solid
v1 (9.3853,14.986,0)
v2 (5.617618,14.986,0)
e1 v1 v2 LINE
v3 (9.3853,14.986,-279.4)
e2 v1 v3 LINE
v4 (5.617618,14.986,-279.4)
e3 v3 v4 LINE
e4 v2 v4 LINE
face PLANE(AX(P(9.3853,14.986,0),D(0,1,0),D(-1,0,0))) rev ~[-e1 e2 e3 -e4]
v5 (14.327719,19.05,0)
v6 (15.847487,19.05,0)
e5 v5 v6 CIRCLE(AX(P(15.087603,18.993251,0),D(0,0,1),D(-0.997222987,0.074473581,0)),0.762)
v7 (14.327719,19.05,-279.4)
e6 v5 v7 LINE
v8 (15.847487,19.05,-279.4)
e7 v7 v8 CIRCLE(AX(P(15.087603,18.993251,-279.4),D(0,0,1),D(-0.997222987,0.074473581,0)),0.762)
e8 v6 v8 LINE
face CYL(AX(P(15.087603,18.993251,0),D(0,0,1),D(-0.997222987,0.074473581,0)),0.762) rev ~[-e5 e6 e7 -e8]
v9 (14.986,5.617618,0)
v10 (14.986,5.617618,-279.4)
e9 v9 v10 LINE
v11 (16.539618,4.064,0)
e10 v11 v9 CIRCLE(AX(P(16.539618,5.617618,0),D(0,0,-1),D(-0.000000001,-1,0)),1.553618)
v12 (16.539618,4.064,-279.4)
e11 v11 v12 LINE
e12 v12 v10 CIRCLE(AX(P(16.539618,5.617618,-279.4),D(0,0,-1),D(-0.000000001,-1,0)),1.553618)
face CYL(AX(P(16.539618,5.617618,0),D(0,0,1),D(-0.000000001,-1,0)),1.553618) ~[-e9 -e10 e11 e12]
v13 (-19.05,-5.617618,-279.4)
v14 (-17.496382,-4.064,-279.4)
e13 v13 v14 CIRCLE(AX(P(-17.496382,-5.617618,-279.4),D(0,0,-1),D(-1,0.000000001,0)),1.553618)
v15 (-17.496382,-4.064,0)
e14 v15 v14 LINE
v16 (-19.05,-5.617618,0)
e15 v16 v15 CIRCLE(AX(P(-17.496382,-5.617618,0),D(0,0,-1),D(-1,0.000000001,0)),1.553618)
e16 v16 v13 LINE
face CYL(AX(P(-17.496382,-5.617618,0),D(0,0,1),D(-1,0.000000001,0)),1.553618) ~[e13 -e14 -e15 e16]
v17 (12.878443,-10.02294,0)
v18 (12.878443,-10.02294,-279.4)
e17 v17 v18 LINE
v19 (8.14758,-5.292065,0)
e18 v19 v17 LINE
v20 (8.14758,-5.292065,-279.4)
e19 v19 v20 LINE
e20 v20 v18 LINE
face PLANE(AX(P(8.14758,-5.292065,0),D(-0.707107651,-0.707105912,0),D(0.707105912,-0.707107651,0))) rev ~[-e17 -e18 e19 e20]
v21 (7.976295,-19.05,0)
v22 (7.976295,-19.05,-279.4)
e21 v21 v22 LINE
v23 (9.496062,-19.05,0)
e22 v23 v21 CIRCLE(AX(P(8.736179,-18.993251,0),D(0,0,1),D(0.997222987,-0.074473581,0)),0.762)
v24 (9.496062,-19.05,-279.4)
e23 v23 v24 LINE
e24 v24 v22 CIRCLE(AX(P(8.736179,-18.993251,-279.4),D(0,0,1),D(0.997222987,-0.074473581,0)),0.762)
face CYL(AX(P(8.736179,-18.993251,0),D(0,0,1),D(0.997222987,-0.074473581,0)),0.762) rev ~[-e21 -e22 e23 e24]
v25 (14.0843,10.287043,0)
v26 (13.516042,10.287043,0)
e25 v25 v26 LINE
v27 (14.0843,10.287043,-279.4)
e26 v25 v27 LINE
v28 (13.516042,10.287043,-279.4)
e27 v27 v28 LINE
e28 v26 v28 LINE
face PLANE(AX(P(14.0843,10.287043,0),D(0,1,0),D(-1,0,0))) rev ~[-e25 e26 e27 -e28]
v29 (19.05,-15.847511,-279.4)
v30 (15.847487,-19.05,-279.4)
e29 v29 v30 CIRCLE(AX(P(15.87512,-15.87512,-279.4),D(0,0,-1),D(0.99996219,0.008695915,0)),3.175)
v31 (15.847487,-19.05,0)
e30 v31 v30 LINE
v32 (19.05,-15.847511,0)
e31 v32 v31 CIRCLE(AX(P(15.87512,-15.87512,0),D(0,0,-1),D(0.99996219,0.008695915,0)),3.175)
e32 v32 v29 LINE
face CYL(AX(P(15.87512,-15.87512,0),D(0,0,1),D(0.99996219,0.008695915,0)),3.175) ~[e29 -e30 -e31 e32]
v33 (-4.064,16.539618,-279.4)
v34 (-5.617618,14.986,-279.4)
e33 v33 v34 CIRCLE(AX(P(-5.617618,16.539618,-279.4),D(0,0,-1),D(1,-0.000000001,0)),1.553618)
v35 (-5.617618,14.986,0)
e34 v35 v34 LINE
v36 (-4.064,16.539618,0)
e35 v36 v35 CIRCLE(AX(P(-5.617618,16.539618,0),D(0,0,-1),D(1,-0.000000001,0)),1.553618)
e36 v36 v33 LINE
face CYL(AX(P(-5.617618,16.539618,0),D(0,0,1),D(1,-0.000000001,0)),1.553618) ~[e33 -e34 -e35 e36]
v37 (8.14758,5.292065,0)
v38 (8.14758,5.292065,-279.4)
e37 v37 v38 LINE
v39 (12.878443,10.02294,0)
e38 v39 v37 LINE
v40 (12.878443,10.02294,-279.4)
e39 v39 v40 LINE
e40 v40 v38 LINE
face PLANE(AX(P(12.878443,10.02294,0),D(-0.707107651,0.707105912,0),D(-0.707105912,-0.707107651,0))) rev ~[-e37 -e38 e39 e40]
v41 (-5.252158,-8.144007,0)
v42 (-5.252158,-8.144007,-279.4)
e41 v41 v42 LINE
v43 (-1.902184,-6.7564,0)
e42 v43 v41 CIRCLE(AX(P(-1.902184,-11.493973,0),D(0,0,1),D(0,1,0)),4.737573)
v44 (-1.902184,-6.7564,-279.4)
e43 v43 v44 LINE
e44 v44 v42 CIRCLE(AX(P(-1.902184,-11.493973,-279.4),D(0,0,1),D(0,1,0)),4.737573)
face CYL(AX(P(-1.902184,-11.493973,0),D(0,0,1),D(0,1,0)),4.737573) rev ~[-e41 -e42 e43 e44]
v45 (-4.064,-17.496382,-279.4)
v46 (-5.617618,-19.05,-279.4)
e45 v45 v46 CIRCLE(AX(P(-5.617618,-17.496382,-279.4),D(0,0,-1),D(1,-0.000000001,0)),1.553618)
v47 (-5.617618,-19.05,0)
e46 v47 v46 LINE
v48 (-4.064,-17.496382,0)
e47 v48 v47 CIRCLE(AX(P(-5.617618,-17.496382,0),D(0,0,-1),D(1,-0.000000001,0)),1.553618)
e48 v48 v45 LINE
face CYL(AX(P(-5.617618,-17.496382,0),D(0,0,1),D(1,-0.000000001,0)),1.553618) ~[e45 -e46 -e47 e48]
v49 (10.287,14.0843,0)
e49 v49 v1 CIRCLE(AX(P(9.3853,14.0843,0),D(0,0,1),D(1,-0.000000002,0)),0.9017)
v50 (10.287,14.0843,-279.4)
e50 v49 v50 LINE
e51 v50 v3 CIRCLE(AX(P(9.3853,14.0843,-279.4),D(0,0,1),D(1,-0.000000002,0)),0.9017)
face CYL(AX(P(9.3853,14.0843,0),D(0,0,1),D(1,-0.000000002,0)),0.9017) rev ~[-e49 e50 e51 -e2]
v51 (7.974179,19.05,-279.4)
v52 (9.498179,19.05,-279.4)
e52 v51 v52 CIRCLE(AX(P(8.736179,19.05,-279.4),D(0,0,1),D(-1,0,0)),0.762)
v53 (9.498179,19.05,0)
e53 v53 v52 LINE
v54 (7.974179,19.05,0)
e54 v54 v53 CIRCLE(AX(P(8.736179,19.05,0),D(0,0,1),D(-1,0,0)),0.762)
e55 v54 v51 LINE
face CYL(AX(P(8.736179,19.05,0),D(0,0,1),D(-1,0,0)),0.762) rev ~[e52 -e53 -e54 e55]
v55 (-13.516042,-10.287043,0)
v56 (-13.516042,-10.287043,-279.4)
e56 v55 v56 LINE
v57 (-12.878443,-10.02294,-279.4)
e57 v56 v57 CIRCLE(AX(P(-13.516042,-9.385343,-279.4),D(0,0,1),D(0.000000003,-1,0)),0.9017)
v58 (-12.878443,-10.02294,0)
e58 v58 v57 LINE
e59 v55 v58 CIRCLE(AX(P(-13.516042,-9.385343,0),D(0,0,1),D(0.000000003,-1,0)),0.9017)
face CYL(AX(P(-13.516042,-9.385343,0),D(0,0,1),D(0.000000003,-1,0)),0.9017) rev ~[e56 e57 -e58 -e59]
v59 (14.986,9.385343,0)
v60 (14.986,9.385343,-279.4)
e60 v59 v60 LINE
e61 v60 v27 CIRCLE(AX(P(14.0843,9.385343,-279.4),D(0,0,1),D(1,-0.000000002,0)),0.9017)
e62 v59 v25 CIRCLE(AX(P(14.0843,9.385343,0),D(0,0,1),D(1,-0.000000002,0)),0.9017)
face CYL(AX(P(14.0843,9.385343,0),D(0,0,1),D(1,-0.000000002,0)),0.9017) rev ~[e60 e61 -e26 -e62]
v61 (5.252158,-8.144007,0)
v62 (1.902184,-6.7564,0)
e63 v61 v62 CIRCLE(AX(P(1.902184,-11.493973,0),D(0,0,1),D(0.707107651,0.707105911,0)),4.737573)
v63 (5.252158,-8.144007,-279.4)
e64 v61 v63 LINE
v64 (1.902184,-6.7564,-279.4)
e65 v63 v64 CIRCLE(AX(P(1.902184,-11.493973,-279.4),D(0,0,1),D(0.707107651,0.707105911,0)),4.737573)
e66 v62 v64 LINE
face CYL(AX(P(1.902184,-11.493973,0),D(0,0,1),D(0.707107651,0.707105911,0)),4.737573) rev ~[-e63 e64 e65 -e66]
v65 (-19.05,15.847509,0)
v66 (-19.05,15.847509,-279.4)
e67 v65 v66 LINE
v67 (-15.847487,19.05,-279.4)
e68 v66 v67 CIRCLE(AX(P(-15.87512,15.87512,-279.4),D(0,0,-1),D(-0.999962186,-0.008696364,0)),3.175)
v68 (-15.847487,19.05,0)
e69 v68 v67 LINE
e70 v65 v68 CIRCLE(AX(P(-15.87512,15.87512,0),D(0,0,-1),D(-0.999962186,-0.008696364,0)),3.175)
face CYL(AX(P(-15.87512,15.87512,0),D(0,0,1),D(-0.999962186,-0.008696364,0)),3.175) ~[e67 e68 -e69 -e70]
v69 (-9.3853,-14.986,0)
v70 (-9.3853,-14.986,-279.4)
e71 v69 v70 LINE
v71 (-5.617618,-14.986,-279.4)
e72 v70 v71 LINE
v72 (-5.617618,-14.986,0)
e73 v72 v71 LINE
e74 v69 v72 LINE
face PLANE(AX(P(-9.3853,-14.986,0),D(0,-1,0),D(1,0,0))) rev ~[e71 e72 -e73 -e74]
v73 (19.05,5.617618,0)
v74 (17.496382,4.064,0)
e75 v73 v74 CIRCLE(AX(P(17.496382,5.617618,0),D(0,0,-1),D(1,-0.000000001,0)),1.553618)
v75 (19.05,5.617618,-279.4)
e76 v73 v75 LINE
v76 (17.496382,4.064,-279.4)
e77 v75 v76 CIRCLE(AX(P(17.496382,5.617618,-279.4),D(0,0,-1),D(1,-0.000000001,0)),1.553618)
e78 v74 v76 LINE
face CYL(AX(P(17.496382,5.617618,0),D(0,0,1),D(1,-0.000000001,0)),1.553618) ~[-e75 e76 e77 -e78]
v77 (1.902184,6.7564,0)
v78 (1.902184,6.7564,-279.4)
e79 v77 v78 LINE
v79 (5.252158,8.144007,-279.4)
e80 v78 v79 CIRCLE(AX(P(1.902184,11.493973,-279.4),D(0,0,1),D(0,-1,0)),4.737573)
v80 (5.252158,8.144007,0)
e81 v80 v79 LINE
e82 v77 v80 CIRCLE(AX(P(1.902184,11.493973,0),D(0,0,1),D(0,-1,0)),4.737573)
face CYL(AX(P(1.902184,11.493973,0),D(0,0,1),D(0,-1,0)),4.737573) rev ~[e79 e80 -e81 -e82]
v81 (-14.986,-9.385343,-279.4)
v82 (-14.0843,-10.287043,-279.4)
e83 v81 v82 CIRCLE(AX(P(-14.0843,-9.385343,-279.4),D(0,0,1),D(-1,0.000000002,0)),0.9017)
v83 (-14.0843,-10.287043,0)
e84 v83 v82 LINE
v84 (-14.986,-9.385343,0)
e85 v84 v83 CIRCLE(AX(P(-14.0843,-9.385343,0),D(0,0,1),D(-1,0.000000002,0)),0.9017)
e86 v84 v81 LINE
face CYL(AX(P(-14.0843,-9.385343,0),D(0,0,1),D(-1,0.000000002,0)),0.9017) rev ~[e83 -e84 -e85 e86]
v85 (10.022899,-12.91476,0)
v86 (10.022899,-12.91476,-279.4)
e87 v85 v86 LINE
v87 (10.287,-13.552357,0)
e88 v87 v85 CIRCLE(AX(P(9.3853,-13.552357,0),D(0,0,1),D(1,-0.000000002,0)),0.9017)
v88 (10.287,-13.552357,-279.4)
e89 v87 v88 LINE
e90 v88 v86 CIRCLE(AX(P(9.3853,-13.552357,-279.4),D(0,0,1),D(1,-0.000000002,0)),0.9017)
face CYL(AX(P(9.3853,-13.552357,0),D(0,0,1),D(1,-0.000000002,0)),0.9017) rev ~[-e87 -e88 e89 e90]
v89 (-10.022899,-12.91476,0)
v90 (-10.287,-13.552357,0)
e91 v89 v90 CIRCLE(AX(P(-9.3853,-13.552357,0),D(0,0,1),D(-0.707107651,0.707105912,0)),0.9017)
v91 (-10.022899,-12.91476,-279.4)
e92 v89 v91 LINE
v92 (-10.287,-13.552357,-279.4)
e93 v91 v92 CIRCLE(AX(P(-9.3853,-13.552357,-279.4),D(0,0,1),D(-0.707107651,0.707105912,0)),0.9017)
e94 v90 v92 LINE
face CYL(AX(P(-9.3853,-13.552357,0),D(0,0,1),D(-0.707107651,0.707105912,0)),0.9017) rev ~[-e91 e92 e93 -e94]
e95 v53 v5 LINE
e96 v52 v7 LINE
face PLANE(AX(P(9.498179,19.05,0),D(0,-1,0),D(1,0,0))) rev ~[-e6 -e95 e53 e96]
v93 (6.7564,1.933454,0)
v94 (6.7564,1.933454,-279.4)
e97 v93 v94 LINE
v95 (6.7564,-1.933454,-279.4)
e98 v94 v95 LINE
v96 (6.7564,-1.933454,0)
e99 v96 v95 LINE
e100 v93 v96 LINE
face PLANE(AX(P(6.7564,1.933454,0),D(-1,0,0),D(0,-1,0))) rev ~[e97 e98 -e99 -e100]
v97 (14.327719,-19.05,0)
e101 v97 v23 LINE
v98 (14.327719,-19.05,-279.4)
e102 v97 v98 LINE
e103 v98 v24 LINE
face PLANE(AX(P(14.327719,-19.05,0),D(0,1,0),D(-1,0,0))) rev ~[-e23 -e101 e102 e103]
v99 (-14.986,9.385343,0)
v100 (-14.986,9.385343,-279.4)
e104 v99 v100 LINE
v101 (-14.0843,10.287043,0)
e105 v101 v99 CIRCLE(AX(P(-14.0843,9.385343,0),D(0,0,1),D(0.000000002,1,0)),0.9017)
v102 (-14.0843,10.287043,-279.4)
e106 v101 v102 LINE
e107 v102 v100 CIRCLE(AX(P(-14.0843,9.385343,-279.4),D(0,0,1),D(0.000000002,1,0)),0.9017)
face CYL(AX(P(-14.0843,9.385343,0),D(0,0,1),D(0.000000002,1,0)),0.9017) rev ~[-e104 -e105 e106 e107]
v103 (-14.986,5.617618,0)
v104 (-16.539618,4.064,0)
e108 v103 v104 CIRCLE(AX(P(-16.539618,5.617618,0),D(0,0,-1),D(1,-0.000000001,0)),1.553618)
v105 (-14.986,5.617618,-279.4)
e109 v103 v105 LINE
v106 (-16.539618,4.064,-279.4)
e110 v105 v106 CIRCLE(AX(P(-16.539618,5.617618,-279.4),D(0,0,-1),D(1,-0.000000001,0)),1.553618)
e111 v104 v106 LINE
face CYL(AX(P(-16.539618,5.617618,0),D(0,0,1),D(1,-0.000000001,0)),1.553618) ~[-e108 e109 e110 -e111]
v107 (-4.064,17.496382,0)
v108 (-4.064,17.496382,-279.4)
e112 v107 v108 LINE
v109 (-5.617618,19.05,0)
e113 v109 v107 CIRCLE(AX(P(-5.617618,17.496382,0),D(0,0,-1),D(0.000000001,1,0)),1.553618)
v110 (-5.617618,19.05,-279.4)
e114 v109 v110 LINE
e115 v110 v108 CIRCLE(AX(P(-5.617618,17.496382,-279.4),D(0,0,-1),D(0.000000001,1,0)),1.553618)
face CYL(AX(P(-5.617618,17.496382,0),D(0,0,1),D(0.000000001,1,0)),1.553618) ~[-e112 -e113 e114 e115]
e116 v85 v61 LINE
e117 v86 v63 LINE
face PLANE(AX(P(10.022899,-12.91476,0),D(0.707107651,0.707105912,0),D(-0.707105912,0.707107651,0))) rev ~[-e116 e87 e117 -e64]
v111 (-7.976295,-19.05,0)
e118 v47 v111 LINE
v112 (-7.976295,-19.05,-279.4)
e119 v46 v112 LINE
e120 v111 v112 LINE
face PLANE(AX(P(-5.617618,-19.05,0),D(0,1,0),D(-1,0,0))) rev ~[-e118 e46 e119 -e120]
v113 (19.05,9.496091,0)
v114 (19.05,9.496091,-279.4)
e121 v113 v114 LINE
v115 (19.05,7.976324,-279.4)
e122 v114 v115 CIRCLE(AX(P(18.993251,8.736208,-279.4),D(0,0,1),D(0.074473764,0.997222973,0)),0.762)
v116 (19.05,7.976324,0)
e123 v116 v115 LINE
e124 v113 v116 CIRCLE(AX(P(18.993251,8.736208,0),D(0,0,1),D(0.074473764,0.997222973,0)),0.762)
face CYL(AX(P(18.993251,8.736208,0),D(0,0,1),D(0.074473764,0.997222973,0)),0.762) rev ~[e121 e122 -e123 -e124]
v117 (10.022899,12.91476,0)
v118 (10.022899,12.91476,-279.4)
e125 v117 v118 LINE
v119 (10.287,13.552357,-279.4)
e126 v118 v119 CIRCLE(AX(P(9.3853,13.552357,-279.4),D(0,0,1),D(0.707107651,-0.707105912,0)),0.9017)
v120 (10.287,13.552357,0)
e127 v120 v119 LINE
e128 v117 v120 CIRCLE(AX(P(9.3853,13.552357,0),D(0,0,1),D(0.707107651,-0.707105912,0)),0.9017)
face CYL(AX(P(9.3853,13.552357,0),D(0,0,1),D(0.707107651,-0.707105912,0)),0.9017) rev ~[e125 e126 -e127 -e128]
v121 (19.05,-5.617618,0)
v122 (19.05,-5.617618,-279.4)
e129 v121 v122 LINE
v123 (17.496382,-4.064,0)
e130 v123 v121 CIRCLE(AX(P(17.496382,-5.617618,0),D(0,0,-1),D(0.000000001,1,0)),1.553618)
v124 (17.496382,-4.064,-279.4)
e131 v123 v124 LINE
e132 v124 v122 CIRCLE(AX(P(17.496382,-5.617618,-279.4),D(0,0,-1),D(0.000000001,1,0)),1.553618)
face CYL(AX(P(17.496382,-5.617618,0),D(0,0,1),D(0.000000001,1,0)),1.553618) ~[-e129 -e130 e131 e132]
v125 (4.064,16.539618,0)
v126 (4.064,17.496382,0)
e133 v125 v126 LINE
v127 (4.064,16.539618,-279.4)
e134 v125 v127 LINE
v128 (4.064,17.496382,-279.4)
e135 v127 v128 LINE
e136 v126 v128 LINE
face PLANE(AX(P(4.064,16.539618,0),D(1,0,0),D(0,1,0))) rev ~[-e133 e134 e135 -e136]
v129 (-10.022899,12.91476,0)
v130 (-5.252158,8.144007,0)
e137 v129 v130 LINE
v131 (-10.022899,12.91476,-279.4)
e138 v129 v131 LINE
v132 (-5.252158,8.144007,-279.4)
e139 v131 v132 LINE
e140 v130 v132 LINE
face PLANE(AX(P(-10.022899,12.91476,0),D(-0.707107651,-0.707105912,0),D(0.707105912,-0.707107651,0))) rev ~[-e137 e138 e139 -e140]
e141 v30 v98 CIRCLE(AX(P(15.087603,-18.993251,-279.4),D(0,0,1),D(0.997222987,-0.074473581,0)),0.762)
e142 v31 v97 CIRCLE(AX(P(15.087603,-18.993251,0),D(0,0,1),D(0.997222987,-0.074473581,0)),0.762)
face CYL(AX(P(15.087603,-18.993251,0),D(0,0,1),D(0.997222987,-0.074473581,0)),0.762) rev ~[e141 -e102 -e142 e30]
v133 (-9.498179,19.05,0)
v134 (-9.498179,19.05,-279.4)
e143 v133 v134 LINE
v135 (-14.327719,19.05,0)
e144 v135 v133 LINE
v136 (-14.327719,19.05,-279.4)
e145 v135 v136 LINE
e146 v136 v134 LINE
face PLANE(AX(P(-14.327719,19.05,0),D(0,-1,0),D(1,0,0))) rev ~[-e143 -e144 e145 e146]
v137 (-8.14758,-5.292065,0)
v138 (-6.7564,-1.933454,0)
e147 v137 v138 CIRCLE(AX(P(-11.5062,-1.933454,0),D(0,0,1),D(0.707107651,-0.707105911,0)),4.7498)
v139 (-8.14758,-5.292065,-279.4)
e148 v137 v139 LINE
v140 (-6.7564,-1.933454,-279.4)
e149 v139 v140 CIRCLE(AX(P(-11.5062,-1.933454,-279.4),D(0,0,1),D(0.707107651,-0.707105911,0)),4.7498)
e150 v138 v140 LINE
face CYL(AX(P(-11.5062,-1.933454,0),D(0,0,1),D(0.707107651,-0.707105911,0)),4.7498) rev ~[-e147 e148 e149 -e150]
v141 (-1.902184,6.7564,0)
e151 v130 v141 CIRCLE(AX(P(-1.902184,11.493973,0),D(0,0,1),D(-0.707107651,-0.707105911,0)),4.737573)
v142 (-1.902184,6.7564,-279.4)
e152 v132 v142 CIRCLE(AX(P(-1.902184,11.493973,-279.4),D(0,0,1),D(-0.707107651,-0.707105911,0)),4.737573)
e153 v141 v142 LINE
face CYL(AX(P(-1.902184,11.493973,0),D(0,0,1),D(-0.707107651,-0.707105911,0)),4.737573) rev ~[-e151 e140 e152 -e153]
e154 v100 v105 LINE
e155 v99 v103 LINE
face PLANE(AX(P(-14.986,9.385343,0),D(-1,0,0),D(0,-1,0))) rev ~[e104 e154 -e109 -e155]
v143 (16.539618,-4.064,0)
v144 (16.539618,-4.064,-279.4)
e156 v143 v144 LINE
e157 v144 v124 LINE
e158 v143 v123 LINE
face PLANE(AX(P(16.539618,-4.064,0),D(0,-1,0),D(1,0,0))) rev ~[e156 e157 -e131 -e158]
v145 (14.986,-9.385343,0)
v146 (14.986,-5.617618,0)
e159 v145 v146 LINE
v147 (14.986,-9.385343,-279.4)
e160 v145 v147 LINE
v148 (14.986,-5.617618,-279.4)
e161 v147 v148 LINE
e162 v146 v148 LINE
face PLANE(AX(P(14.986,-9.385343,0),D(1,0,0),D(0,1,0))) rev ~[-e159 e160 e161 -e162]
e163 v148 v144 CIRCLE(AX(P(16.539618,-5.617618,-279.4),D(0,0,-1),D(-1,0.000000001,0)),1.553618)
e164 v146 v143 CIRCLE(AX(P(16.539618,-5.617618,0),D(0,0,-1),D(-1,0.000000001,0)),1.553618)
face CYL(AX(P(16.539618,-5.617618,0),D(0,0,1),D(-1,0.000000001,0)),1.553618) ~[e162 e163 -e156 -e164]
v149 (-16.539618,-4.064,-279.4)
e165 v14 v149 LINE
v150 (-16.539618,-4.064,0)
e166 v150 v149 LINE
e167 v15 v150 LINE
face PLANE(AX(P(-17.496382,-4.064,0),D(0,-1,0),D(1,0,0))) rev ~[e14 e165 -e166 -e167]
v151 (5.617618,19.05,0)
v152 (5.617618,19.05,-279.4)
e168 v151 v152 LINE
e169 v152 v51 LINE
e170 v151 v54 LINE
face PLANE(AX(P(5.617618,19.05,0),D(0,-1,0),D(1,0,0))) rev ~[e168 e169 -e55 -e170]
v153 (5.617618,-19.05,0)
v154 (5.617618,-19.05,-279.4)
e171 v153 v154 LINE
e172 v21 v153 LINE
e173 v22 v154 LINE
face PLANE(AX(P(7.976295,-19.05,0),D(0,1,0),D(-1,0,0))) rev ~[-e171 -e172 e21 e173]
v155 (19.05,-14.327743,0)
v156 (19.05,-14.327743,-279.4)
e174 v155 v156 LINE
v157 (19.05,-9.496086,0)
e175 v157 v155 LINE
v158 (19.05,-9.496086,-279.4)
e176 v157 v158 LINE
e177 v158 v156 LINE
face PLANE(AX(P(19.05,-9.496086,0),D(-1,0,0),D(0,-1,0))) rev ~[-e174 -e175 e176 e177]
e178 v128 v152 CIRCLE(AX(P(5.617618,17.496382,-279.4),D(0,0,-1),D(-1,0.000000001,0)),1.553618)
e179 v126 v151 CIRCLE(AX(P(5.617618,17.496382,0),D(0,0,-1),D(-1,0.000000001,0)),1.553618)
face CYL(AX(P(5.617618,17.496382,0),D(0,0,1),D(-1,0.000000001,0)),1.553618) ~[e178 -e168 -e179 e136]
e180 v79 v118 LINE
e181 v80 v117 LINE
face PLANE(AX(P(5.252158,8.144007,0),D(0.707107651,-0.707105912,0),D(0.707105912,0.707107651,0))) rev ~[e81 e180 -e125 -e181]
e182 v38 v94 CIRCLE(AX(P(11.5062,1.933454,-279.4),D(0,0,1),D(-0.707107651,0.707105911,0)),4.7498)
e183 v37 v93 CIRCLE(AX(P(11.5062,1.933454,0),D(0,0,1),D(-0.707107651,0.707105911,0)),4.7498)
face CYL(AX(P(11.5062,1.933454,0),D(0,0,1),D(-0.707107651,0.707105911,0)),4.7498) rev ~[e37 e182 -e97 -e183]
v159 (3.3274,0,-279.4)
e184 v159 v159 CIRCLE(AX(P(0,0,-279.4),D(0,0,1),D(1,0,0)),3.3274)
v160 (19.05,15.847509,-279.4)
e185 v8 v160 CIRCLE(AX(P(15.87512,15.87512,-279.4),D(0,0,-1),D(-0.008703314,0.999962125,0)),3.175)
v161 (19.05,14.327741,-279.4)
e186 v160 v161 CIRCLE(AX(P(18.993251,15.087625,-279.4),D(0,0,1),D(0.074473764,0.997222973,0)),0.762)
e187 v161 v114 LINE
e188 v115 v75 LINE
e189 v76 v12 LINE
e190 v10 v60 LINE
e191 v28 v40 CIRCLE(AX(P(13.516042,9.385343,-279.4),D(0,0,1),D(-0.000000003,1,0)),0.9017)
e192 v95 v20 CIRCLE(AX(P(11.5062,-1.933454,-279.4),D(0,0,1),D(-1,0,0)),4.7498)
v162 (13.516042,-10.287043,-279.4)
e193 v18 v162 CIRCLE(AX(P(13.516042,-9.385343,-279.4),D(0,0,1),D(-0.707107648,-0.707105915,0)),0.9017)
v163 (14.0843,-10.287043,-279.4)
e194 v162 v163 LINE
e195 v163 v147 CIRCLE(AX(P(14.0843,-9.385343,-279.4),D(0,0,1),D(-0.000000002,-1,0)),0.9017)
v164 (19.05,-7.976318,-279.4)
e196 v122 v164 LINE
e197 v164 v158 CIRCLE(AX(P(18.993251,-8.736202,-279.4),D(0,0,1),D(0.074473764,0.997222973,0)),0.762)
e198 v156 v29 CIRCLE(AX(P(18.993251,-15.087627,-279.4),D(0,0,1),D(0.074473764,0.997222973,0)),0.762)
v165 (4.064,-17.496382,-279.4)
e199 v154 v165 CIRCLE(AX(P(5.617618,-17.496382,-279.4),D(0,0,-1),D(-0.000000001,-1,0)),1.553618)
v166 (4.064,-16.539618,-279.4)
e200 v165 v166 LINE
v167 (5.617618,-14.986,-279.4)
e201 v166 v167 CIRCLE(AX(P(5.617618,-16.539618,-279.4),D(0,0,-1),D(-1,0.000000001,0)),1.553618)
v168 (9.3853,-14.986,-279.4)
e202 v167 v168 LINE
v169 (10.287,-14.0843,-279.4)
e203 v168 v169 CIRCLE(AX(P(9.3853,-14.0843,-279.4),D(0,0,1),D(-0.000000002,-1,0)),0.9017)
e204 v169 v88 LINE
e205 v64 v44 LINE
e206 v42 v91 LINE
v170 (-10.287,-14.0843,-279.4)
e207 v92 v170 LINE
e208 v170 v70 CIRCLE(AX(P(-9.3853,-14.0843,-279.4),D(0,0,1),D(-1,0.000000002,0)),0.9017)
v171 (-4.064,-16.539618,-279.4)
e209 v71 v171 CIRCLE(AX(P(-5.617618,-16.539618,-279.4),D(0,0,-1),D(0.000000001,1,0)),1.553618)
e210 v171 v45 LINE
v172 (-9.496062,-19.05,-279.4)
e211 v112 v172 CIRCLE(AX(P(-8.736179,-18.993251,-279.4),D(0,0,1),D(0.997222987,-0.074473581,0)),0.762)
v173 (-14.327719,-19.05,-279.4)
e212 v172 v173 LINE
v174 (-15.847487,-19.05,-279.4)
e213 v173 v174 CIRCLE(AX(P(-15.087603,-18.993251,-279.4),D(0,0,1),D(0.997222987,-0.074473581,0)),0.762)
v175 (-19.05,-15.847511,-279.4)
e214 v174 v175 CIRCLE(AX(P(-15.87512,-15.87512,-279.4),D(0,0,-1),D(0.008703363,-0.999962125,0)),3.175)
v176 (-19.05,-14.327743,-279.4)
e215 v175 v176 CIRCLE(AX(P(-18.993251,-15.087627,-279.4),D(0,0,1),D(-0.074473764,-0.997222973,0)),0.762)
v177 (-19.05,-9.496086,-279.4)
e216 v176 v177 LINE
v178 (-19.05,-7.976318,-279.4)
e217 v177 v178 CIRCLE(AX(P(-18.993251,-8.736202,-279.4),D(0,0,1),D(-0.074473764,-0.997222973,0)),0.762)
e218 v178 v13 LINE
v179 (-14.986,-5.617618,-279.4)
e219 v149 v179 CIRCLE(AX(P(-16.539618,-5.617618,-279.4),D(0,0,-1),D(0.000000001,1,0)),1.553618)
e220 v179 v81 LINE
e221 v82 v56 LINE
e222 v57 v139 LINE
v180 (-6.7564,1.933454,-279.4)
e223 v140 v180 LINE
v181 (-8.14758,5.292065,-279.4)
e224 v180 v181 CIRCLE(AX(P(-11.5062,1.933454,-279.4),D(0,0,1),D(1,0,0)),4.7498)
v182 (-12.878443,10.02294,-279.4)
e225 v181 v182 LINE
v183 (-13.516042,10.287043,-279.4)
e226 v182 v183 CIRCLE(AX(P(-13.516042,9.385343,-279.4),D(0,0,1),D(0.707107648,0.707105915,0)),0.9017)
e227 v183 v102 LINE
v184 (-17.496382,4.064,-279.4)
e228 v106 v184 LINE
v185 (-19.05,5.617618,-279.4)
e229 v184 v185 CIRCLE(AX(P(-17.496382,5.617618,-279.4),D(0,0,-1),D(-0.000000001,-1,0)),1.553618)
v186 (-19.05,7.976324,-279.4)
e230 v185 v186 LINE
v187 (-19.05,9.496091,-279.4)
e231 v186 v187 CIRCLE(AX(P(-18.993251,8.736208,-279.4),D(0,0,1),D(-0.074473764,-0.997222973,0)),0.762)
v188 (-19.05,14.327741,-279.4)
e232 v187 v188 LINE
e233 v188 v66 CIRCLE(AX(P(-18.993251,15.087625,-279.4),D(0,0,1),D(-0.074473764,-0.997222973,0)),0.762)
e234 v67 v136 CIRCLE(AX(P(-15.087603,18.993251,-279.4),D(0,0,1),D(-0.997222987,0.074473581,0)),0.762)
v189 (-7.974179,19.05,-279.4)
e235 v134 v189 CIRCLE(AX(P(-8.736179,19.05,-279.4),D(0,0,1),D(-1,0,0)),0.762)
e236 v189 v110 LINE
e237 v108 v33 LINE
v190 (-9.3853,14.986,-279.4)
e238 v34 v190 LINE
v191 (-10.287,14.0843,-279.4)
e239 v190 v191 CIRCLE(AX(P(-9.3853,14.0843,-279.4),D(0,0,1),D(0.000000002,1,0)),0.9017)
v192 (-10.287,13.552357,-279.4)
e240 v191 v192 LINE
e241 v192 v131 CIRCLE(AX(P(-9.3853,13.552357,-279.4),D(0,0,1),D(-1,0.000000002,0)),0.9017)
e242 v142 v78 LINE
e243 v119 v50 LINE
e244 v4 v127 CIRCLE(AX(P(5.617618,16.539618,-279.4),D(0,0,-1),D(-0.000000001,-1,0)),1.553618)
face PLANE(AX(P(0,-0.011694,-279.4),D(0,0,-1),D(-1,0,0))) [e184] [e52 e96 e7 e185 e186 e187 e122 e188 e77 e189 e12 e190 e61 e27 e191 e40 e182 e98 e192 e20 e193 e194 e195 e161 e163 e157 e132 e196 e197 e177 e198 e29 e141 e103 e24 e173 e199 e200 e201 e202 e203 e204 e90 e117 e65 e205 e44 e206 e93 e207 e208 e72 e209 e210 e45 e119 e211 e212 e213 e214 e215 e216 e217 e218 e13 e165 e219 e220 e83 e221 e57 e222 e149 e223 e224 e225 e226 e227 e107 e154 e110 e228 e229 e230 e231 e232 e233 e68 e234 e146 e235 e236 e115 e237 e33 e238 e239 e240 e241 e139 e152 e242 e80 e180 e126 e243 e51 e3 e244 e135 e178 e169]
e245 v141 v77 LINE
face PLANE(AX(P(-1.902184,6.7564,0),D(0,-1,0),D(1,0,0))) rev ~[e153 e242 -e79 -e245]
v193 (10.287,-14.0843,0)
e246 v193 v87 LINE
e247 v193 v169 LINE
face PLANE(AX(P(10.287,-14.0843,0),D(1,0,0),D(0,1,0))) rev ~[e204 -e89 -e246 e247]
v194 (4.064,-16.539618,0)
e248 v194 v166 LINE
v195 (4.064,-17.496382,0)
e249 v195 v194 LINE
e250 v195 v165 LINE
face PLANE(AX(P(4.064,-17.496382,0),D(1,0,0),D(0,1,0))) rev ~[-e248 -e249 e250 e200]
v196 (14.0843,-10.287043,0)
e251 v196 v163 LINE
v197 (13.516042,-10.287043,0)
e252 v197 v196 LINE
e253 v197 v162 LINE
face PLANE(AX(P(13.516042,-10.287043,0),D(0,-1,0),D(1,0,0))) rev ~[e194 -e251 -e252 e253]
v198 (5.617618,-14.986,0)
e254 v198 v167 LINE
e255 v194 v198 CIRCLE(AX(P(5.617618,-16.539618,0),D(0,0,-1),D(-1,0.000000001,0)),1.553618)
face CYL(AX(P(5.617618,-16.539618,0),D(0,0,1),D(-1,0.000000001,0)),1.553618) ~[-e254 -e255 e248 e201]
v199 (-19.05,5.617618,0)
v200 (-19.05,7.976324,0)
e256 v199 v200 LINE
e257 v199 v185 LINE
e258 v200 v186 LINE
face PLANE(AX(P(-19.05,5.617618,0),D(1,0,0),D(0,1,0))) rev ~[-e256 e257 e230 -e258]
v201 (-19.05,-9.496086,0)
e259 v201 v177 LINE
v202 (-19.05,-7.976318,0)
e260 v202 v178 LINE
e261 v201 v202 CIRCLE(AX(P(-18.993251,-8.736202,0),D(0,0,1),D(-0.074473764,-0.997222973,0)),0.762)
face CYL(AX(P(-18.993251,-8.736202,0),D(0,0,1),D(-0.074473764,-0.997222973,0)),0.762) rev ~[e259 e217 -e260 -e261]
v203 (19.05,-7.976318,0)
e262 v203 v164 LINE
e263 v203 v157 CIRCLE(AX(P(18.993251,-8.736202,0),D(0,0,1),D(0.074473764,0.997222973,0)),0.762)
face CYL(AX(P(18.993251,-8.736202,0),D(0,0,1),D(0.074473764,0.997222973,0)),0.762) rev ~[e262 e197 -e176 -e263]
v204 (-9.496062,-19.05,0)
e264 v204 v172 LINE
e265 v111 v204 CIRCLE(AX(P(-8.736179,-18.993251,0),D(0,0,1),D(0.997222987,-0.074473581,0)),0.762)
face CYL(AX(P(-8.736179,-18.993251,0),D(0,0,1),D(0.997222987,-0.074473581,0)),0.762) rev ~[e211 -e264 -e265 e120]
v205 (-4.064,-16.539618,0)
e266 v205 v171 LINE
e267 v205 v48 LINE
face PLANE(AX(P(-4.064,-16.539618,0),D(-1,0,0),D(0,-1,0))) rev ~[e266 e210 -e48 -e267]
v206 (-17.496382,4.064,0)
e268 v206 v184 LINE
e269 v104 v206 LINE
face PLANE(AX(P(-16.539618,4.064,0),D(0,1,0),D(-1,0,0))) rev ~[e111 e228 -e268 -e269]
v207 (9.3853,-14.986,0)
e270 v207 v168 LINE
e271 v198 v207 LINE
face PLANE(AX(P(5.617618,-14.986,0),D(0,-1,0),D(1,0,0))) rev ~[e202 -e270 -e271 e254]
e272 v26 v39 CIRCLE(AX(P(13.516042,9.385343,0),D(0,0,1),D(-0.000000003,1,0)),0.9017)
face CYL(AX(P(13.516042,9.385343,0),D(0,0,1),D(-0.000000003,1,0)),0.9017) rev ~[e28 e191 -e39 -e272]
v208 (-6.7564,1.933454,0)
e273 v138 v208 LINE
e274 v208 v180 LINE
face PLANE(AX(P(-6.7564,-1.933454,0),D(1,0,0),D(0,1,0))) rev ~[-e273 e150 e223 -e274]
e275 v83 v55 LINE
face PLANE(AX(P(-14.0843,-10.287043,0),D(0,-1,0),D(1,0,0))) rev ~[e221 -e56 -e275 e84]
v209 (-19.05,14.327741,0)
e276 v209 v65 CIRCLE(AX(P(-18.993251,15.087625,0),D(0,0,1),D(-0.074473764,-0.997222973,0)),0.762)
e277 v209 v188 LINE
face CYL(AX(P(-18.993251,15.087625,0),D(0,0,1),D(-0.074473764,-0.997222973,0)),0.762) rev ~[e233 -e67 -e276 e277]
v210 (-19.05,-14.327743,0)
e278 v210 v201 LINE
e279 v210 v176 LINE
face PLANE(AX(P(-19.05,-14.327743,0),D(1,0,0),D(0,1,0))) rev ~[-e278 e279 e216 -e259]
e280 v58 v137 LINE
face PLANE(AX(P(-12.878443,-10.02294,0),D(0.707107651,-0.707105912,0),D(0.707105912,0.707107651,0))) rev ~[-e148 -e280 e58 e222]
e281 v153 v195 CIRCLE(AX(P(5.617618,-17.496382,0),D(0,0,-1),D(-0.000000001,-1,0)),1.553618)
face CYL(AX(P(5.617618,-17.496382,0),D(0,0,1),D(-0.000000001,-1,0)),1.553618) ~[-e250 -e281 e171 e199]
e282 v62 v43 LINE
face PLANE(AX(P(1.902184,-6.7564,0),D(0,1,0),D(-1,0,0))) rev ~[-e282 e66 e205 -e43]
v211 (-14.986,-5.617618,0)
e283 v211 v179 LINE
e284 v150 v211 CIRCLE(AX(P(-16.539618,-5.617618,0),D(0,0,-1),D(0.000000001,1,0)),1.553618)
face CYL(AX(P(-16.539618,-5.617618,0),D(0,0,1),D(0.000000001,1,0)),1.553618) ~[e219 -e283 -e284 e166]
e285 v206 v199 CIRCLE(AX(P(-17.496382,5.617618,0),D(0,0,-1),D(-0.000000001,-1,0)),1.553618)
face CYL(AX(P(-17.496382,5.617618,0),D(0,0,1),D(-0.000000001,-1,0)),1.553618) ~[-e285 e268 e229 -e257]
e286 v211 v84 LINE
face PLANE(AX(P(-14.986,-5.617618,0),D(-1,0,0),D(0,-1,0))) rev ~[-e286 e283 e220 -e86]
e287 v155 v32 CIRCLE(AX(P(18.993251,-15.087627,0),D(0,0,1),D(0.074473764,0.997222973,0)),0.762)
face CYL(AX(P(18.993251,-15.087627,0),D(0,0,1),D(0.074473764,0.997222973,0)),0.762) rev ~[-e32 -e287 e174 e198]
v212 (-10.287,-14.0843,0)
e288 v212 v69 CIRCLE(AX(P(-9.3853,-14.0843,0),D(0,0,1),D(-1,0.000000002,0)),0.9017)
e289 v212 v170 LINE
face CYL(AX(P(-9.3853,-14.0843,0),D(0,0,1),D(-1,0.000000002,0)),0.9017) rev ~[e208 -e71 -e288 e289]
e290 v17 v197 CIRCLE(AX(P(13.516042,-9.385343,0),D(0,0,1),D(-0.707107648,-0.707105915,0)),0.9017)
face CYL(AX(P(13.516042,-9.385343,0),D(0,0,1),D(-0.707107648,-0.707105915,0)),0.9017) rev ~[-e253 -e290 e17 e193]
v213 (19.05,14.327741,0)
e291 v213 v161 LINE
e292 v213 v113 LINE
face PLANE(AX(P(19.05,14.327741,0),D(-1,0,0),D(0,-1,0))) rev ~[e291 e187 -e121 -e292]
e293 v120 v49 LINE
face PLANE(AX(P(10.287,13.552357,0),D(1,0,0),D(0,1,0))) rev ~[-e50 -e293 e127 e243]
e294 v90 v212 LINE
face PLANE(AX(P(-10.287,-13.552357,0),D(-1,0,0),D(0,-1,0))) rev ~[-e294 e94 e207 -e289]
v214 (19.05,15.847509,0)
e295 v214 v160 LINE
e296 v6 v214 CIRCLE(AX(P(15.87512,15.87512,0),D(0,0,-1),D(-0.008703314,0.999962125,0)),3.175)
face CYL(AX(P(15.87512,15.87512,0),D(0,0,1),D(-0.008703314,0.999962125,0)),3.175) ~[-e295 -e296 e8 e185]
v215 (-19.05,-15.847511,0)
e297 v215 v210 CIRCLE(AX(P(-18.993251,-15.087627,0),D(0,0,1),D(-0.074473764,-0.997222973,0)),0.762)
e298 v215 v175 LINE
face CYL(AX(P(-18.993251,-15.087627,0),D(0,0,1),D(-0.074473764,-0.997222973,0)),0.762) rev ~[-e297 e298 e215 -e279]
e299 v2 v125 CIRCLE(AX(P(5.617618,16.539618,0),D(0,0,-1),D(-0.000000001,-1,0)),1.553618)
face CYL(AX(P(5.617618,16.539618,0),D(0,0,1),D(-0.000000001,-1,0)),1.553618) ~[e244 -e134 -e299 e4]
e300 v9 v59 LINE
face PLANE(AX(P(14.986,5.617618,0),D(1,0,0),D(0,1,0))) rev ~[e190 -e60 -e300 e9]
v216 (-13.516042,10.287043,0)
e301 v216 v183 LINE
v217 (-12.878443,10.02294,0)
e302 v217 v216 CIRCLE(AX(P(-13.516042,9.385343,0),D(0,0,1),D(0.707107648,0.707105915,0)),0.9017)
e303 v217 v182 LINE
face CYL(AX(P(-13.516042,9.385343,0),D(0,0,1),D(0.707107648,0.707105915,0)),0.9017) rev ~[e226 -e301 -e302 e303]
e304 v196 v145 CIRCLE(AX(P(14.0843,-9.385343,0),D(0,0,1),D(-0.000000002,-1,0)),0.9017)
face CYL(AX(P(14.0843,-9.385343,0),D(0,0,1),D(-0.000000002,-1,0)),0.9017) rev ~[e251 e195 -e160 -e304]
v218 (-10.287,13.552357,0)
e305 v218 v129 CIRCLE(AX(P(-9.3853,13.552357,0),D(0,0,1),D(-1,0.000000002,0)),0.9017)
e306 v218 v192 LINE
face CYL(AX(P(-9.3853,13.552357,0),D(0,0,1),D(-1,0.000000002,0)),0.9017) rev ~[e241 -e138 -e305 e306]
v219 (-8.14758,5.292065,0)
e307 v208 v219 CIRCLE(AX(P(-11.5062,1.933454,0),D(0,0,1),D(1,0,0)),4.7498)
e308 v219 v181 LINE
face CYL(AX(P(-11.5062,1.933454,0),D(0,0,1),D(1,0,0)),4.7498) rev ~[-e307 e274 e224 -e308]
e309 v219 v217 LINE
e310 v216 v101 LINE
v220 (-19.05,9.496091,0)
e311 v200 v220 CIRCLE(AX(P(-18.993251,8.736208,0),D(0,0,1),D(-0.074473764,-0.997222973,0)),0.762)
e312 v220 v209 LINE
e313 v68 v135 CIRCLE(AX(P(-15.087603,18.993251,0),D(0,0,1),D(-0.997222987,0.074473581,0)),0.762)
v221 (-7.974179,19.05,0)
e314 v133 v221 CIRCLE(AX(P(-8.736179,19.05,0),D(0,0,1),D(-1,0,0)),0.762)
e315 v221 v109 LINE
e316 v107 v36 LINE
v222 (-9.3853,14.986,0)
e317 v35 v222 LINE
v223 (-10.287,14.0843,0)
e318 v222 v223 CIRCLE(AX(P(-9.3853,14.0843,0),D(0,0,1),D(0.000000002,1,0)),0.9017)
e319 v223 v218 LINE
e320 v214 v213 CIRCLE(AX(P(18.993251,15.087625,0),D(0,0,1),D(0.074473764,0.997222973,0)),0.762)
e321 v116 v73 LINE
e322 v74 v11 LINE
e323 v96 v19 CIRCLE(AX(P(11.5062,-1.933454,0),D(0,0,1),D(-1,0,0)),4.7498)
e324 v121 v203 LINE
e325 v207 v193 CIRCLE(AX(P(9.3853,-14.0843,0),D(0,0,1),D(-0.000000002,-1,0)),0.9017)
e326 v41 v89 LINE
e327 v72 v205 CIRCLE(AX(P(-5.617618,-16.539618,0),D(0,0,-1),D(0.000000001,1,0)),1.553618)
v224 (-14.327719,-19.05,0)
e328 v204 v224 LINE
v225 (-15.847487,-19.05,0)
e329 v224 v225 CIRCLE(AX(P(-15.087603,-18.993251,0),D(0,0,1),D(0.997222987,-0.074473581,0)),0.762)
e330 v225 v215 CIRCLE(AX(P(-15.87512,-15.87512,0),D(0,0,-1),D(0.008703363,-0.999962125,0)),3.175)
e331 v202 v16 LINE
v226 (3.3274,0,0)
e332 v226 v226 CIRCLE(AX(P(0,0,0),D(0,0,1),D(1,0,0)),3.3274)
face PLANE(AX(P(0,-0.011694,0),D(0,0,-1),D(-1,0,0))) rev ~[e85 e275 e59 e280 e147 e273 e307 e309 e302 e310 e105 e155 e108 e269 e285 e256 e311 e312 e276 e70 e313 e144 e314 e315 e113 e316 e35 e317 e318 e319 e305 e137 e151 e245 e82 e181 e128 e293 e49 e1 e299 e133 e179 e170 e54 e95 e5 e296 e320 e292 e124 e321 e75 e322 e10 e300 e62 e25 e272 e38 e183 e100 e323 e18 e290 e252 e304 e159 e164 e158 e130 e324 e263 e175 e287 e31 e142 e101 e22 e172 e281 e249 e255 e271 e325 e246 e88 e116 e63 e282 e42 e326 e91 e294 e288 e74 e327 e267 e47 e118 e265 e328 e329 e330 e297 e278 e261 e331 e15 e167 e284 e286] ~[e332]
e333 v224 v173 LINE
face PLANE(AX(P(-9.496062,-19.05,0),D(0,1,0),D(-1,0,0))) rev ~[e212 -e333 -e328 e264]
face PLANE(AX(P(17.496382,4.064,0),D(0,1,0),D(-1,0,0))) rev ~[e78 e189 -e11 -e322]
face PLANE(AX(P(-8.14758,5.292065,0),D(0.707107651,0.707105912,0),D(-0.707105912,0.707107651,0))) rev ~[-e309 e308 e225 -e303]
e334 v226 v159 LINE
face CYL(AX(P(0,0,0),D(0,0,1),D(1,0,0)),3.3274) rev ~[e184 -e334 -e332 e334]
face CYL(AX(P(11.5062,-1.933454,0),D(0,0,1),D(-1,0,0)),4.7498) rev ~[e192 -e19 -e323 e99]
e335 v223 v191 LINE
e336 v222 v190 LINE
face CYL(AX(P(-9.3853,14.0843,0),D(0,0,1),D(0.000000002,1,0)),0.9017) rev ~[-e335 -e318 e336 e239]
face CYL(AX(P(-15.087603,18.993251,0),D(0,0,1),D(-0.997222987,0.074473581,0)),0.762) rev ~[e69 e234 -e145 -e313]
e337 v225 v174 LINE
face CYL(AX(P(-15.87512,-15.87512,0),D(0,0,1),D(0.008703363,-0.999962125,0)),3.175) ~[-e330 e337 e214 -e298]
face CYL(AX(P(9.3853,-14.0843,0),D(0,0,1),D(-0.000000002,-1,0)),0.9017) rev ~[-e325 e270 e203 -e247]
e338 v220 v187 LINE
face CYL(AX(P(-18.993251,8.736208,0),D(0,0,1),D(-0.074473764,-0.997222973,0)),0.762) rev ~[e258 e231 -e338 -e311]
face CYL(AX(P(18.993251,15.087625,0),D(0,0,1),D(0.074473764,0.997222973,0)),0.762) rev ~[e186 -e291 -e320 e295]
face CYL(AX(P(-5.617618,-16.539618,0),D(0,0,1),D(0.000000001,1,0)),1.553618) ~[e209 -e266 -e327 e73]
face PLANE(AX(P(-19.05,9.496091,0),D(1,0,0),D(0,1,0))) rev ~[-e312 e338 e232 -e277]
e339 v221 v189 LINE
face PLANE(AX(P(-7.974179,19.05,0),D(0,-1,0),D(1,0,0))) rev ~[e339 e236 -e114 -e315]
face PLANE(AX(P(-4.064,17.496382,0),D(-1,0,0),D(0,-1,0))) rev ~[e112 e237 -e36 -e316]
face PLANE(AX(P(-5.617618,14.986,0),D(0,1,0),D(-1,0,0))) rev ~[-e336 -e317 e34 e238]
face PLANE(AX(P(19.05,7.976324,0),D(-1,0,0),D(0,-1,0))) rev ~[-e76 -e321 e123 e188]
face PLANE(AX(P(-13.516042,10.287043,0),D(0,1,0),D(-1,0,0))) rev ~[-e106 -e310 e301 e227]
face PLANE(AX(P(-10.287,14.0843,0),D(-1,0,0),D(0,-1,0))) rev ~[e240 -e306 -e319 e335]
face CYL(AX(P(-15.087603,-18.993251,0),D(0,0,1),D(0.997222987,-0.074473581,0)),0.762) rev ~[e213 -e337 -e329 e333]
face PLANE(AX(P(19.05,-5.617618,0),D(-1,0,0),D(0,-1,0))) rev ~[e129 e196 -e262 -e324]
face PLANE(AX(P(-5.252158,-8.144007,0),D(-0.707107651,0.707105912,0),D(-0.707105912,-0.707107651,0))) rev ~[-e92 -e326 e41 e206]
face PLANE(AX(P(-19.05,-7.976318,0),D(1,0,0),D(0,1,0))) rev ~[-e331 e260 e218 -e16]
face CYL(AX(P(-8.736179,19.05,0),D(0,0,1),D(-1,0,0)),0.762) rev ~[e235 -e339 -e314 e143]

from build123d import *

# Parameters (mm, degrees)
SKETCH1_R      = 3.3274
EXTRUDE1_DEPTH = 279.4


with BuildPart() as part:
    # Sketch1 → Extrude1 (new body)
    with BuildSketch(Plane.XY):
        with BuildLine():
            Line((-10.022898969, 12.91475973), (-5.252158105, 8.144007132))
            ThreePointArc((-5.252158105, 8.144007132), (-3.715177372, 7.117027388), (-1.902183975, 6.7564))
            Line((-1.902183975, 6.7564), (1.902183975, 6.7564))
            ThreePointArc((1.902183975, 6.7564), (3.715177372, 7.117027388), (5.252158105, 8.144007132))
            Line((5.252158105, 8.144007132), (10.022898969, 12.91475973))
            ThreePointArc((10.022898969, 12.91475973), (10.218362387, 13.207291992), (10.287, 13.552357131))
            Line((10.287, 13.552357131), (10.287, 14.0843))
            ThreePointArc((10.287, 14.0843), (10.022898185, 14.721898185), (9.3853, 14.986))
            Line((9.3853, 14.986), (5.617617549, 14.986))
            ThreePointArc((5.617617549, 14.986), (4.519044045, 15.441044045), (4.064, 16.539617549))
            Line((4.064, 16.539617549), (4.064, 17.496382451))
            ThreePointArc((4.064, 17.496382451), (4.519044045, 18.594955955), (5.617617549, 19.05))
            Line((5.617617549, 19.05), (7.974178704, 19.05))
            ThreePointArc((7.974178704, 19.05), (8.736178704, 18.288), (9.498178704, 19.05))
            Line((9.498178704, 19.05), (14.327719207, 19.05))
            ThreePointArc((14.327719207, 19.05), (15.087603123, 18.231251131), (15.847487039, 19.05))
            ThreePointArc((15.847487039, 19.05), (18.120176289, 18.120192083), (19.05, 15.847509295))
            ThreePointArc((19.05, 15.847509295), (18.231250992, 15.08762539), (19.05, 14.327741484))
            Line((19.05, 14.327741484), (19.05, 9.496091471))
            ThreePointArc((19.05, 9.496091471), (18.231250992, 8.736207565), (19.05, 7.97632366))
            Line((19.05, 7.97632366), (19.05, 5.617617549))
            ThreePointArc((19.05, 5.617617549), (18.594955955, 4.519044045), (17.496382451, 4.064))
            Line((17.496382451, 4.064), (16.539617549, 4.064))
            ThreePointArc((16.539617549, 4.064), (15.441044045, 4.519044045), (14.986, 5.617617549))
            Line((14.986, 5.617617549), (14.986, 9.385342516))
            ThreePointArc((14.986, 9.385342516), (14.721898185, 10.022940701), (14.0843, 10.287042516))
            Line((14.0843, 10.287042516), (13.516042086, 10.287042516))
            ThreePointArc((13.516042086, 10.287042516), (13.170975923, 10.218404478), (12.878443117, 10.022939917))
            Line((12.878443117, 10.022939917), (8.14758008, 5.292065243))
            ThreePointArc((8.14758008, 5.292065243), (7.117955879, 3.751120653), (6.7564, 1.933453584))
            Line((6.7564, 1.933453584), (6.7564, -1.933453584))
            ThreePointArc((6.7564, -1.933453584), (7.117955879, -3.751120653), (8.14758008, -5.292065243))
            Line((8.14758008, -5.292065243), (12.878443117, -10.022939917))
            ThreePointArc((12.878443117, -10.022939917), (13.170975923, -10.218404478), (13.516042086, -10.287042516))
            Line((13.516042086, -10.287042516), (14.0843, -10.287042516))
            ThreePointArc((14.0843, -10.287042516), (14.721898185, -10.022940701), (14.986, -9.385342516))
            Line((14.986, -9.385342516), (14.986, -5.617617549))
            ThreePointArc((14.986, -5.617617549), (15.441044045, -4.519044045), (16.539617549, -4.064))
            Line((16.539617549, -4.064), (17.496382451, -4.064))
            ThreePointArc((17.496382451, -4.064), (18.594955955, -4.519044045), (19.05, -5.617617549))
            Line((19.05, -5.617617549), (19.05, -7.976318491))
            ThreePointArc((19.05, -7.976318491), (18.231250992, -8.736202396), (19.05, -9.496086302))
            Line((19.05, -9.496086302), (19.05, -14.32774291))
            ThreePointArc((19.05, -14.32774291), (18.231250992, -15.087626816), (19.05, -15.847510721))
            ThreePointArc((19.05, -15.847510721), (18.120175716, -18.120192644), (15.847486868, -19.05))
            ThreePointArc((15.847486868, -19.05), (15.087602952, -18.231251131), (14.327719036, -19.05))
            Line((14.327719036, -19.05), (9.496062448, -19.05))
            ThreePointArc((9.496062448, -19.05), (8.736178532, -18.231251131), (7.976294616, -19.05))
            Line((7.976294616, -19.05), (5.617617549, -19.05))
            ThreePointArc((5.617617549, -19.05), (4.519044045, -18.594955955), (4.064, -17.496382451))
            Line((4.064, -17.496382451), (4.064, -16.539617549))
            ThreePointArc((4.064, -16.539617549), (4.519044045, -15.441044045), (5.617617549, -14.986))
            Line((5.617617549, -14.986), (9.3853, -14.986))
            ThreePointArc((9.3853, -14.986), (10.022898185, -14.721898185), (10.287, -14.0843))
            Line((10.287, -14.0843), (10.287, -13.552357131))
            ThreePointArc((10.287, -13.552357131), (10.218362387, -13.207291992), (10.022898969, -12.91475973))
            Line((10.022898969, -12.91475973), (5.252158105, -8.144007132))
            ThreePointArc((5.252158105, -8.144007132), (3.715177372, -7.117027388), (1.902183975, -6.7564))
            Line((1.902183975, -6.7564), (-1.902183975, -6.7564))
            ThreePointArc((-1.902183975, -6.7564), (-3.715177372, -7.117027388), (-5.252158105, -8.144007132))
            Line((-5.252158105, -8.144007132), (-10.022898969, -12.91475973))
            ThreePointArc((-10.022898969, -12.91475973), (-10.218362387, -13.207291992), (-10.287, -13.552357131))
            Line((-10.287, -13.552357131), (-10.287, -14.0843))
            ThreePointArc((-10.287, -14.0843), (-10.022898185, -14.721898185), (-9.3853, -14.986))
            Line((-9.3853, -14.986), (-5.617617549, -14.986))
            ThreePointArc((-5.617617549, -14.986), (-4.519044045, -15.441044045), (-4.064, -16.539617549))
            Line((-4.064, -16.539617549), (-4.064, -17.496382451))
            ThreePointArc((-4.064, -17.496382451), (-4.519044045, -18.594955955), (-5.617617549, -19.05))
            Line((-5.617617549, -19.05), (-7.976294616, -19.05))
            ThreePointArc((-7.976294616, -19.05), (-8.736178532, -18.231251131), (-9.496062448, -19.05))
            Line((-9.496062448, -19.05), (-14.327719036, -19.05))
            ThreePointArc((-14.327719036, -19.05), (-15.087602952, -18.231251131), (-15.847486868, -19.05))
            ThreePointArc((-15.847486868, -19.05), (-18.120175716, -18.120192644), (-19.05, -15.847510721))
            ThreePointArc((-19.05, -15.847510721), (-18.231250992, -15.087626816), (-19.05, -14.32774291))
            Line((-19.05, -14.32774291), (-19.05, -9.496086302))
            ThreePointArc((-19.05, -9.496086302), (-18.231250992, -8.736202396), (-19.05, -7.976318491))
            Line((-19.05, -7.976318491), (-19.05, -5.617617549))
            ThreePointArc((-19.05, -5.617617549), (-18.594955955, -4.519044045), (-17.496382451, -4.064))
            Line((-17.496382451, -4.064), (-16.539617549, -4.064))
            ThreePointArc((-16.539617549, -4.064), (-15.441044045, -4.519044045), (-14.986, -5.617617549))
            Line((-14.986, -5.617617549), (-14.986, -9.385342516))
            ThreePointArc((-14.986, -9.385342516), (-14.721898185, -10.022940701), (-14.0843, -10.287042516))
            Line((-14.0843, -10.287042516), (-13.516042086, -10.287042516))
            ThreePointArc((-13.516042086, -10.287042516), (-13.170975923, -10.218404478), (-12.878443117, -10.022939917))
            Line((-12.878443117, -10.022939917), (-8.14758008, -5.292065243))
            ThreePointArc((-8.14758008, -5.292065243), (-7.117955879, -3.751120653), (-6.7564, -1.933453584))
            Line((-6.7564, -1.933453584), (-6.7564, 1.933453584))
            ThreePointArc((-6.7564, 1.933453584), (-7.117955879, 3.751120653), (-8.14758008, 5.292065243))
            Line((-8.14758008, 5.292065243), (-12.878443117, 10.022939917))
            ThreePointArc((-12.878443117, 10.022939917), (-13.170975923, 10.218404478), (-13.516042086, 10.287042516))
            Line((-13.516042086, 10.287042516), (-14.0843, 10.287042516))
            ThreePointArc((-14.0843, 10.287042516), (-14.721898185, 10.022940701), (-14.986, 9.385342516))
            Line((-14.986, 9.385342516), (-14.986, 5.617617549))
            ThreePointArc((-14.986, 5.617617549), (-15.441044045, 4.519044045), (-16.539617549, 4.064))
            Line((-16.539617549, 4.064), (-17.496382451, 4.064))
            ThreePointArc((-17.496382451, 4.064), (-18.594955955, 4.519044045), (-19.05, 5.617617549))
            Line((-19.05, 5.617617549), (-19.05, 7.97632366))
            ThreePointArc((-19.05, 7.97632366), (-18.231250992, 8.736207565), (-19.05, 9.496091471))
            Line((-19.05, 9.496091471), (-19.05, 14.327741484))
            ThreePointArc((-19.05, 14.327741484), (-18.231250992, 15.08762539), (-19.05, 15.847509295))
            ThreePointArc((-19.05, 15.847509295), (-18.120176289, 18.120192083), (-15.847487039, 19.05))
            ThreePointArc((-15.847487039, 19.05), (-15.087603123, 18.231251131), (-14.327719207, 19.05))
            Line((-14.327719207, 19.05), (-9.498178704, 19.05))
            ThreePointArc((-9.498178704, 19.05), (-8.736178704, 18.288), (-7.974178704, 19.05))
            Line((-7.974178704, 19.05), (-5.617617549, 19.05))
            ThreePointArc((-5.617617549, 19.05), (-4.519044045, 18.594955955), (-4.064, 17.496382451))
            Line((-4.064, 17.496382451), (-4.064, 16.539617549))
            ThreePointArc((-4.064, 16.539617549), (-4.519044045, 15.441044045), (-5.617617549, 14.986))
            Line((-5.617617549, 14.986), (-9.3853, 14.986))
            ThreePointArc((-9.3853, 14.986), (-10.022898185, 14.721898185), (-10.287, 14.0843))
            Line((-10.287, 14.0843), (-10.287, 13.552357131))
            ThreePointArc((-10.287, 13.552357131), (-10.218362387, 13.207291992), (-10.022898969, 12.91475973))
        make_face()
        Circle(SKETCH1_R, mode=Mode.SUBTRACT)
    extrude(amount=-EXTRUDE1_DEPTH)


solid = part.part
